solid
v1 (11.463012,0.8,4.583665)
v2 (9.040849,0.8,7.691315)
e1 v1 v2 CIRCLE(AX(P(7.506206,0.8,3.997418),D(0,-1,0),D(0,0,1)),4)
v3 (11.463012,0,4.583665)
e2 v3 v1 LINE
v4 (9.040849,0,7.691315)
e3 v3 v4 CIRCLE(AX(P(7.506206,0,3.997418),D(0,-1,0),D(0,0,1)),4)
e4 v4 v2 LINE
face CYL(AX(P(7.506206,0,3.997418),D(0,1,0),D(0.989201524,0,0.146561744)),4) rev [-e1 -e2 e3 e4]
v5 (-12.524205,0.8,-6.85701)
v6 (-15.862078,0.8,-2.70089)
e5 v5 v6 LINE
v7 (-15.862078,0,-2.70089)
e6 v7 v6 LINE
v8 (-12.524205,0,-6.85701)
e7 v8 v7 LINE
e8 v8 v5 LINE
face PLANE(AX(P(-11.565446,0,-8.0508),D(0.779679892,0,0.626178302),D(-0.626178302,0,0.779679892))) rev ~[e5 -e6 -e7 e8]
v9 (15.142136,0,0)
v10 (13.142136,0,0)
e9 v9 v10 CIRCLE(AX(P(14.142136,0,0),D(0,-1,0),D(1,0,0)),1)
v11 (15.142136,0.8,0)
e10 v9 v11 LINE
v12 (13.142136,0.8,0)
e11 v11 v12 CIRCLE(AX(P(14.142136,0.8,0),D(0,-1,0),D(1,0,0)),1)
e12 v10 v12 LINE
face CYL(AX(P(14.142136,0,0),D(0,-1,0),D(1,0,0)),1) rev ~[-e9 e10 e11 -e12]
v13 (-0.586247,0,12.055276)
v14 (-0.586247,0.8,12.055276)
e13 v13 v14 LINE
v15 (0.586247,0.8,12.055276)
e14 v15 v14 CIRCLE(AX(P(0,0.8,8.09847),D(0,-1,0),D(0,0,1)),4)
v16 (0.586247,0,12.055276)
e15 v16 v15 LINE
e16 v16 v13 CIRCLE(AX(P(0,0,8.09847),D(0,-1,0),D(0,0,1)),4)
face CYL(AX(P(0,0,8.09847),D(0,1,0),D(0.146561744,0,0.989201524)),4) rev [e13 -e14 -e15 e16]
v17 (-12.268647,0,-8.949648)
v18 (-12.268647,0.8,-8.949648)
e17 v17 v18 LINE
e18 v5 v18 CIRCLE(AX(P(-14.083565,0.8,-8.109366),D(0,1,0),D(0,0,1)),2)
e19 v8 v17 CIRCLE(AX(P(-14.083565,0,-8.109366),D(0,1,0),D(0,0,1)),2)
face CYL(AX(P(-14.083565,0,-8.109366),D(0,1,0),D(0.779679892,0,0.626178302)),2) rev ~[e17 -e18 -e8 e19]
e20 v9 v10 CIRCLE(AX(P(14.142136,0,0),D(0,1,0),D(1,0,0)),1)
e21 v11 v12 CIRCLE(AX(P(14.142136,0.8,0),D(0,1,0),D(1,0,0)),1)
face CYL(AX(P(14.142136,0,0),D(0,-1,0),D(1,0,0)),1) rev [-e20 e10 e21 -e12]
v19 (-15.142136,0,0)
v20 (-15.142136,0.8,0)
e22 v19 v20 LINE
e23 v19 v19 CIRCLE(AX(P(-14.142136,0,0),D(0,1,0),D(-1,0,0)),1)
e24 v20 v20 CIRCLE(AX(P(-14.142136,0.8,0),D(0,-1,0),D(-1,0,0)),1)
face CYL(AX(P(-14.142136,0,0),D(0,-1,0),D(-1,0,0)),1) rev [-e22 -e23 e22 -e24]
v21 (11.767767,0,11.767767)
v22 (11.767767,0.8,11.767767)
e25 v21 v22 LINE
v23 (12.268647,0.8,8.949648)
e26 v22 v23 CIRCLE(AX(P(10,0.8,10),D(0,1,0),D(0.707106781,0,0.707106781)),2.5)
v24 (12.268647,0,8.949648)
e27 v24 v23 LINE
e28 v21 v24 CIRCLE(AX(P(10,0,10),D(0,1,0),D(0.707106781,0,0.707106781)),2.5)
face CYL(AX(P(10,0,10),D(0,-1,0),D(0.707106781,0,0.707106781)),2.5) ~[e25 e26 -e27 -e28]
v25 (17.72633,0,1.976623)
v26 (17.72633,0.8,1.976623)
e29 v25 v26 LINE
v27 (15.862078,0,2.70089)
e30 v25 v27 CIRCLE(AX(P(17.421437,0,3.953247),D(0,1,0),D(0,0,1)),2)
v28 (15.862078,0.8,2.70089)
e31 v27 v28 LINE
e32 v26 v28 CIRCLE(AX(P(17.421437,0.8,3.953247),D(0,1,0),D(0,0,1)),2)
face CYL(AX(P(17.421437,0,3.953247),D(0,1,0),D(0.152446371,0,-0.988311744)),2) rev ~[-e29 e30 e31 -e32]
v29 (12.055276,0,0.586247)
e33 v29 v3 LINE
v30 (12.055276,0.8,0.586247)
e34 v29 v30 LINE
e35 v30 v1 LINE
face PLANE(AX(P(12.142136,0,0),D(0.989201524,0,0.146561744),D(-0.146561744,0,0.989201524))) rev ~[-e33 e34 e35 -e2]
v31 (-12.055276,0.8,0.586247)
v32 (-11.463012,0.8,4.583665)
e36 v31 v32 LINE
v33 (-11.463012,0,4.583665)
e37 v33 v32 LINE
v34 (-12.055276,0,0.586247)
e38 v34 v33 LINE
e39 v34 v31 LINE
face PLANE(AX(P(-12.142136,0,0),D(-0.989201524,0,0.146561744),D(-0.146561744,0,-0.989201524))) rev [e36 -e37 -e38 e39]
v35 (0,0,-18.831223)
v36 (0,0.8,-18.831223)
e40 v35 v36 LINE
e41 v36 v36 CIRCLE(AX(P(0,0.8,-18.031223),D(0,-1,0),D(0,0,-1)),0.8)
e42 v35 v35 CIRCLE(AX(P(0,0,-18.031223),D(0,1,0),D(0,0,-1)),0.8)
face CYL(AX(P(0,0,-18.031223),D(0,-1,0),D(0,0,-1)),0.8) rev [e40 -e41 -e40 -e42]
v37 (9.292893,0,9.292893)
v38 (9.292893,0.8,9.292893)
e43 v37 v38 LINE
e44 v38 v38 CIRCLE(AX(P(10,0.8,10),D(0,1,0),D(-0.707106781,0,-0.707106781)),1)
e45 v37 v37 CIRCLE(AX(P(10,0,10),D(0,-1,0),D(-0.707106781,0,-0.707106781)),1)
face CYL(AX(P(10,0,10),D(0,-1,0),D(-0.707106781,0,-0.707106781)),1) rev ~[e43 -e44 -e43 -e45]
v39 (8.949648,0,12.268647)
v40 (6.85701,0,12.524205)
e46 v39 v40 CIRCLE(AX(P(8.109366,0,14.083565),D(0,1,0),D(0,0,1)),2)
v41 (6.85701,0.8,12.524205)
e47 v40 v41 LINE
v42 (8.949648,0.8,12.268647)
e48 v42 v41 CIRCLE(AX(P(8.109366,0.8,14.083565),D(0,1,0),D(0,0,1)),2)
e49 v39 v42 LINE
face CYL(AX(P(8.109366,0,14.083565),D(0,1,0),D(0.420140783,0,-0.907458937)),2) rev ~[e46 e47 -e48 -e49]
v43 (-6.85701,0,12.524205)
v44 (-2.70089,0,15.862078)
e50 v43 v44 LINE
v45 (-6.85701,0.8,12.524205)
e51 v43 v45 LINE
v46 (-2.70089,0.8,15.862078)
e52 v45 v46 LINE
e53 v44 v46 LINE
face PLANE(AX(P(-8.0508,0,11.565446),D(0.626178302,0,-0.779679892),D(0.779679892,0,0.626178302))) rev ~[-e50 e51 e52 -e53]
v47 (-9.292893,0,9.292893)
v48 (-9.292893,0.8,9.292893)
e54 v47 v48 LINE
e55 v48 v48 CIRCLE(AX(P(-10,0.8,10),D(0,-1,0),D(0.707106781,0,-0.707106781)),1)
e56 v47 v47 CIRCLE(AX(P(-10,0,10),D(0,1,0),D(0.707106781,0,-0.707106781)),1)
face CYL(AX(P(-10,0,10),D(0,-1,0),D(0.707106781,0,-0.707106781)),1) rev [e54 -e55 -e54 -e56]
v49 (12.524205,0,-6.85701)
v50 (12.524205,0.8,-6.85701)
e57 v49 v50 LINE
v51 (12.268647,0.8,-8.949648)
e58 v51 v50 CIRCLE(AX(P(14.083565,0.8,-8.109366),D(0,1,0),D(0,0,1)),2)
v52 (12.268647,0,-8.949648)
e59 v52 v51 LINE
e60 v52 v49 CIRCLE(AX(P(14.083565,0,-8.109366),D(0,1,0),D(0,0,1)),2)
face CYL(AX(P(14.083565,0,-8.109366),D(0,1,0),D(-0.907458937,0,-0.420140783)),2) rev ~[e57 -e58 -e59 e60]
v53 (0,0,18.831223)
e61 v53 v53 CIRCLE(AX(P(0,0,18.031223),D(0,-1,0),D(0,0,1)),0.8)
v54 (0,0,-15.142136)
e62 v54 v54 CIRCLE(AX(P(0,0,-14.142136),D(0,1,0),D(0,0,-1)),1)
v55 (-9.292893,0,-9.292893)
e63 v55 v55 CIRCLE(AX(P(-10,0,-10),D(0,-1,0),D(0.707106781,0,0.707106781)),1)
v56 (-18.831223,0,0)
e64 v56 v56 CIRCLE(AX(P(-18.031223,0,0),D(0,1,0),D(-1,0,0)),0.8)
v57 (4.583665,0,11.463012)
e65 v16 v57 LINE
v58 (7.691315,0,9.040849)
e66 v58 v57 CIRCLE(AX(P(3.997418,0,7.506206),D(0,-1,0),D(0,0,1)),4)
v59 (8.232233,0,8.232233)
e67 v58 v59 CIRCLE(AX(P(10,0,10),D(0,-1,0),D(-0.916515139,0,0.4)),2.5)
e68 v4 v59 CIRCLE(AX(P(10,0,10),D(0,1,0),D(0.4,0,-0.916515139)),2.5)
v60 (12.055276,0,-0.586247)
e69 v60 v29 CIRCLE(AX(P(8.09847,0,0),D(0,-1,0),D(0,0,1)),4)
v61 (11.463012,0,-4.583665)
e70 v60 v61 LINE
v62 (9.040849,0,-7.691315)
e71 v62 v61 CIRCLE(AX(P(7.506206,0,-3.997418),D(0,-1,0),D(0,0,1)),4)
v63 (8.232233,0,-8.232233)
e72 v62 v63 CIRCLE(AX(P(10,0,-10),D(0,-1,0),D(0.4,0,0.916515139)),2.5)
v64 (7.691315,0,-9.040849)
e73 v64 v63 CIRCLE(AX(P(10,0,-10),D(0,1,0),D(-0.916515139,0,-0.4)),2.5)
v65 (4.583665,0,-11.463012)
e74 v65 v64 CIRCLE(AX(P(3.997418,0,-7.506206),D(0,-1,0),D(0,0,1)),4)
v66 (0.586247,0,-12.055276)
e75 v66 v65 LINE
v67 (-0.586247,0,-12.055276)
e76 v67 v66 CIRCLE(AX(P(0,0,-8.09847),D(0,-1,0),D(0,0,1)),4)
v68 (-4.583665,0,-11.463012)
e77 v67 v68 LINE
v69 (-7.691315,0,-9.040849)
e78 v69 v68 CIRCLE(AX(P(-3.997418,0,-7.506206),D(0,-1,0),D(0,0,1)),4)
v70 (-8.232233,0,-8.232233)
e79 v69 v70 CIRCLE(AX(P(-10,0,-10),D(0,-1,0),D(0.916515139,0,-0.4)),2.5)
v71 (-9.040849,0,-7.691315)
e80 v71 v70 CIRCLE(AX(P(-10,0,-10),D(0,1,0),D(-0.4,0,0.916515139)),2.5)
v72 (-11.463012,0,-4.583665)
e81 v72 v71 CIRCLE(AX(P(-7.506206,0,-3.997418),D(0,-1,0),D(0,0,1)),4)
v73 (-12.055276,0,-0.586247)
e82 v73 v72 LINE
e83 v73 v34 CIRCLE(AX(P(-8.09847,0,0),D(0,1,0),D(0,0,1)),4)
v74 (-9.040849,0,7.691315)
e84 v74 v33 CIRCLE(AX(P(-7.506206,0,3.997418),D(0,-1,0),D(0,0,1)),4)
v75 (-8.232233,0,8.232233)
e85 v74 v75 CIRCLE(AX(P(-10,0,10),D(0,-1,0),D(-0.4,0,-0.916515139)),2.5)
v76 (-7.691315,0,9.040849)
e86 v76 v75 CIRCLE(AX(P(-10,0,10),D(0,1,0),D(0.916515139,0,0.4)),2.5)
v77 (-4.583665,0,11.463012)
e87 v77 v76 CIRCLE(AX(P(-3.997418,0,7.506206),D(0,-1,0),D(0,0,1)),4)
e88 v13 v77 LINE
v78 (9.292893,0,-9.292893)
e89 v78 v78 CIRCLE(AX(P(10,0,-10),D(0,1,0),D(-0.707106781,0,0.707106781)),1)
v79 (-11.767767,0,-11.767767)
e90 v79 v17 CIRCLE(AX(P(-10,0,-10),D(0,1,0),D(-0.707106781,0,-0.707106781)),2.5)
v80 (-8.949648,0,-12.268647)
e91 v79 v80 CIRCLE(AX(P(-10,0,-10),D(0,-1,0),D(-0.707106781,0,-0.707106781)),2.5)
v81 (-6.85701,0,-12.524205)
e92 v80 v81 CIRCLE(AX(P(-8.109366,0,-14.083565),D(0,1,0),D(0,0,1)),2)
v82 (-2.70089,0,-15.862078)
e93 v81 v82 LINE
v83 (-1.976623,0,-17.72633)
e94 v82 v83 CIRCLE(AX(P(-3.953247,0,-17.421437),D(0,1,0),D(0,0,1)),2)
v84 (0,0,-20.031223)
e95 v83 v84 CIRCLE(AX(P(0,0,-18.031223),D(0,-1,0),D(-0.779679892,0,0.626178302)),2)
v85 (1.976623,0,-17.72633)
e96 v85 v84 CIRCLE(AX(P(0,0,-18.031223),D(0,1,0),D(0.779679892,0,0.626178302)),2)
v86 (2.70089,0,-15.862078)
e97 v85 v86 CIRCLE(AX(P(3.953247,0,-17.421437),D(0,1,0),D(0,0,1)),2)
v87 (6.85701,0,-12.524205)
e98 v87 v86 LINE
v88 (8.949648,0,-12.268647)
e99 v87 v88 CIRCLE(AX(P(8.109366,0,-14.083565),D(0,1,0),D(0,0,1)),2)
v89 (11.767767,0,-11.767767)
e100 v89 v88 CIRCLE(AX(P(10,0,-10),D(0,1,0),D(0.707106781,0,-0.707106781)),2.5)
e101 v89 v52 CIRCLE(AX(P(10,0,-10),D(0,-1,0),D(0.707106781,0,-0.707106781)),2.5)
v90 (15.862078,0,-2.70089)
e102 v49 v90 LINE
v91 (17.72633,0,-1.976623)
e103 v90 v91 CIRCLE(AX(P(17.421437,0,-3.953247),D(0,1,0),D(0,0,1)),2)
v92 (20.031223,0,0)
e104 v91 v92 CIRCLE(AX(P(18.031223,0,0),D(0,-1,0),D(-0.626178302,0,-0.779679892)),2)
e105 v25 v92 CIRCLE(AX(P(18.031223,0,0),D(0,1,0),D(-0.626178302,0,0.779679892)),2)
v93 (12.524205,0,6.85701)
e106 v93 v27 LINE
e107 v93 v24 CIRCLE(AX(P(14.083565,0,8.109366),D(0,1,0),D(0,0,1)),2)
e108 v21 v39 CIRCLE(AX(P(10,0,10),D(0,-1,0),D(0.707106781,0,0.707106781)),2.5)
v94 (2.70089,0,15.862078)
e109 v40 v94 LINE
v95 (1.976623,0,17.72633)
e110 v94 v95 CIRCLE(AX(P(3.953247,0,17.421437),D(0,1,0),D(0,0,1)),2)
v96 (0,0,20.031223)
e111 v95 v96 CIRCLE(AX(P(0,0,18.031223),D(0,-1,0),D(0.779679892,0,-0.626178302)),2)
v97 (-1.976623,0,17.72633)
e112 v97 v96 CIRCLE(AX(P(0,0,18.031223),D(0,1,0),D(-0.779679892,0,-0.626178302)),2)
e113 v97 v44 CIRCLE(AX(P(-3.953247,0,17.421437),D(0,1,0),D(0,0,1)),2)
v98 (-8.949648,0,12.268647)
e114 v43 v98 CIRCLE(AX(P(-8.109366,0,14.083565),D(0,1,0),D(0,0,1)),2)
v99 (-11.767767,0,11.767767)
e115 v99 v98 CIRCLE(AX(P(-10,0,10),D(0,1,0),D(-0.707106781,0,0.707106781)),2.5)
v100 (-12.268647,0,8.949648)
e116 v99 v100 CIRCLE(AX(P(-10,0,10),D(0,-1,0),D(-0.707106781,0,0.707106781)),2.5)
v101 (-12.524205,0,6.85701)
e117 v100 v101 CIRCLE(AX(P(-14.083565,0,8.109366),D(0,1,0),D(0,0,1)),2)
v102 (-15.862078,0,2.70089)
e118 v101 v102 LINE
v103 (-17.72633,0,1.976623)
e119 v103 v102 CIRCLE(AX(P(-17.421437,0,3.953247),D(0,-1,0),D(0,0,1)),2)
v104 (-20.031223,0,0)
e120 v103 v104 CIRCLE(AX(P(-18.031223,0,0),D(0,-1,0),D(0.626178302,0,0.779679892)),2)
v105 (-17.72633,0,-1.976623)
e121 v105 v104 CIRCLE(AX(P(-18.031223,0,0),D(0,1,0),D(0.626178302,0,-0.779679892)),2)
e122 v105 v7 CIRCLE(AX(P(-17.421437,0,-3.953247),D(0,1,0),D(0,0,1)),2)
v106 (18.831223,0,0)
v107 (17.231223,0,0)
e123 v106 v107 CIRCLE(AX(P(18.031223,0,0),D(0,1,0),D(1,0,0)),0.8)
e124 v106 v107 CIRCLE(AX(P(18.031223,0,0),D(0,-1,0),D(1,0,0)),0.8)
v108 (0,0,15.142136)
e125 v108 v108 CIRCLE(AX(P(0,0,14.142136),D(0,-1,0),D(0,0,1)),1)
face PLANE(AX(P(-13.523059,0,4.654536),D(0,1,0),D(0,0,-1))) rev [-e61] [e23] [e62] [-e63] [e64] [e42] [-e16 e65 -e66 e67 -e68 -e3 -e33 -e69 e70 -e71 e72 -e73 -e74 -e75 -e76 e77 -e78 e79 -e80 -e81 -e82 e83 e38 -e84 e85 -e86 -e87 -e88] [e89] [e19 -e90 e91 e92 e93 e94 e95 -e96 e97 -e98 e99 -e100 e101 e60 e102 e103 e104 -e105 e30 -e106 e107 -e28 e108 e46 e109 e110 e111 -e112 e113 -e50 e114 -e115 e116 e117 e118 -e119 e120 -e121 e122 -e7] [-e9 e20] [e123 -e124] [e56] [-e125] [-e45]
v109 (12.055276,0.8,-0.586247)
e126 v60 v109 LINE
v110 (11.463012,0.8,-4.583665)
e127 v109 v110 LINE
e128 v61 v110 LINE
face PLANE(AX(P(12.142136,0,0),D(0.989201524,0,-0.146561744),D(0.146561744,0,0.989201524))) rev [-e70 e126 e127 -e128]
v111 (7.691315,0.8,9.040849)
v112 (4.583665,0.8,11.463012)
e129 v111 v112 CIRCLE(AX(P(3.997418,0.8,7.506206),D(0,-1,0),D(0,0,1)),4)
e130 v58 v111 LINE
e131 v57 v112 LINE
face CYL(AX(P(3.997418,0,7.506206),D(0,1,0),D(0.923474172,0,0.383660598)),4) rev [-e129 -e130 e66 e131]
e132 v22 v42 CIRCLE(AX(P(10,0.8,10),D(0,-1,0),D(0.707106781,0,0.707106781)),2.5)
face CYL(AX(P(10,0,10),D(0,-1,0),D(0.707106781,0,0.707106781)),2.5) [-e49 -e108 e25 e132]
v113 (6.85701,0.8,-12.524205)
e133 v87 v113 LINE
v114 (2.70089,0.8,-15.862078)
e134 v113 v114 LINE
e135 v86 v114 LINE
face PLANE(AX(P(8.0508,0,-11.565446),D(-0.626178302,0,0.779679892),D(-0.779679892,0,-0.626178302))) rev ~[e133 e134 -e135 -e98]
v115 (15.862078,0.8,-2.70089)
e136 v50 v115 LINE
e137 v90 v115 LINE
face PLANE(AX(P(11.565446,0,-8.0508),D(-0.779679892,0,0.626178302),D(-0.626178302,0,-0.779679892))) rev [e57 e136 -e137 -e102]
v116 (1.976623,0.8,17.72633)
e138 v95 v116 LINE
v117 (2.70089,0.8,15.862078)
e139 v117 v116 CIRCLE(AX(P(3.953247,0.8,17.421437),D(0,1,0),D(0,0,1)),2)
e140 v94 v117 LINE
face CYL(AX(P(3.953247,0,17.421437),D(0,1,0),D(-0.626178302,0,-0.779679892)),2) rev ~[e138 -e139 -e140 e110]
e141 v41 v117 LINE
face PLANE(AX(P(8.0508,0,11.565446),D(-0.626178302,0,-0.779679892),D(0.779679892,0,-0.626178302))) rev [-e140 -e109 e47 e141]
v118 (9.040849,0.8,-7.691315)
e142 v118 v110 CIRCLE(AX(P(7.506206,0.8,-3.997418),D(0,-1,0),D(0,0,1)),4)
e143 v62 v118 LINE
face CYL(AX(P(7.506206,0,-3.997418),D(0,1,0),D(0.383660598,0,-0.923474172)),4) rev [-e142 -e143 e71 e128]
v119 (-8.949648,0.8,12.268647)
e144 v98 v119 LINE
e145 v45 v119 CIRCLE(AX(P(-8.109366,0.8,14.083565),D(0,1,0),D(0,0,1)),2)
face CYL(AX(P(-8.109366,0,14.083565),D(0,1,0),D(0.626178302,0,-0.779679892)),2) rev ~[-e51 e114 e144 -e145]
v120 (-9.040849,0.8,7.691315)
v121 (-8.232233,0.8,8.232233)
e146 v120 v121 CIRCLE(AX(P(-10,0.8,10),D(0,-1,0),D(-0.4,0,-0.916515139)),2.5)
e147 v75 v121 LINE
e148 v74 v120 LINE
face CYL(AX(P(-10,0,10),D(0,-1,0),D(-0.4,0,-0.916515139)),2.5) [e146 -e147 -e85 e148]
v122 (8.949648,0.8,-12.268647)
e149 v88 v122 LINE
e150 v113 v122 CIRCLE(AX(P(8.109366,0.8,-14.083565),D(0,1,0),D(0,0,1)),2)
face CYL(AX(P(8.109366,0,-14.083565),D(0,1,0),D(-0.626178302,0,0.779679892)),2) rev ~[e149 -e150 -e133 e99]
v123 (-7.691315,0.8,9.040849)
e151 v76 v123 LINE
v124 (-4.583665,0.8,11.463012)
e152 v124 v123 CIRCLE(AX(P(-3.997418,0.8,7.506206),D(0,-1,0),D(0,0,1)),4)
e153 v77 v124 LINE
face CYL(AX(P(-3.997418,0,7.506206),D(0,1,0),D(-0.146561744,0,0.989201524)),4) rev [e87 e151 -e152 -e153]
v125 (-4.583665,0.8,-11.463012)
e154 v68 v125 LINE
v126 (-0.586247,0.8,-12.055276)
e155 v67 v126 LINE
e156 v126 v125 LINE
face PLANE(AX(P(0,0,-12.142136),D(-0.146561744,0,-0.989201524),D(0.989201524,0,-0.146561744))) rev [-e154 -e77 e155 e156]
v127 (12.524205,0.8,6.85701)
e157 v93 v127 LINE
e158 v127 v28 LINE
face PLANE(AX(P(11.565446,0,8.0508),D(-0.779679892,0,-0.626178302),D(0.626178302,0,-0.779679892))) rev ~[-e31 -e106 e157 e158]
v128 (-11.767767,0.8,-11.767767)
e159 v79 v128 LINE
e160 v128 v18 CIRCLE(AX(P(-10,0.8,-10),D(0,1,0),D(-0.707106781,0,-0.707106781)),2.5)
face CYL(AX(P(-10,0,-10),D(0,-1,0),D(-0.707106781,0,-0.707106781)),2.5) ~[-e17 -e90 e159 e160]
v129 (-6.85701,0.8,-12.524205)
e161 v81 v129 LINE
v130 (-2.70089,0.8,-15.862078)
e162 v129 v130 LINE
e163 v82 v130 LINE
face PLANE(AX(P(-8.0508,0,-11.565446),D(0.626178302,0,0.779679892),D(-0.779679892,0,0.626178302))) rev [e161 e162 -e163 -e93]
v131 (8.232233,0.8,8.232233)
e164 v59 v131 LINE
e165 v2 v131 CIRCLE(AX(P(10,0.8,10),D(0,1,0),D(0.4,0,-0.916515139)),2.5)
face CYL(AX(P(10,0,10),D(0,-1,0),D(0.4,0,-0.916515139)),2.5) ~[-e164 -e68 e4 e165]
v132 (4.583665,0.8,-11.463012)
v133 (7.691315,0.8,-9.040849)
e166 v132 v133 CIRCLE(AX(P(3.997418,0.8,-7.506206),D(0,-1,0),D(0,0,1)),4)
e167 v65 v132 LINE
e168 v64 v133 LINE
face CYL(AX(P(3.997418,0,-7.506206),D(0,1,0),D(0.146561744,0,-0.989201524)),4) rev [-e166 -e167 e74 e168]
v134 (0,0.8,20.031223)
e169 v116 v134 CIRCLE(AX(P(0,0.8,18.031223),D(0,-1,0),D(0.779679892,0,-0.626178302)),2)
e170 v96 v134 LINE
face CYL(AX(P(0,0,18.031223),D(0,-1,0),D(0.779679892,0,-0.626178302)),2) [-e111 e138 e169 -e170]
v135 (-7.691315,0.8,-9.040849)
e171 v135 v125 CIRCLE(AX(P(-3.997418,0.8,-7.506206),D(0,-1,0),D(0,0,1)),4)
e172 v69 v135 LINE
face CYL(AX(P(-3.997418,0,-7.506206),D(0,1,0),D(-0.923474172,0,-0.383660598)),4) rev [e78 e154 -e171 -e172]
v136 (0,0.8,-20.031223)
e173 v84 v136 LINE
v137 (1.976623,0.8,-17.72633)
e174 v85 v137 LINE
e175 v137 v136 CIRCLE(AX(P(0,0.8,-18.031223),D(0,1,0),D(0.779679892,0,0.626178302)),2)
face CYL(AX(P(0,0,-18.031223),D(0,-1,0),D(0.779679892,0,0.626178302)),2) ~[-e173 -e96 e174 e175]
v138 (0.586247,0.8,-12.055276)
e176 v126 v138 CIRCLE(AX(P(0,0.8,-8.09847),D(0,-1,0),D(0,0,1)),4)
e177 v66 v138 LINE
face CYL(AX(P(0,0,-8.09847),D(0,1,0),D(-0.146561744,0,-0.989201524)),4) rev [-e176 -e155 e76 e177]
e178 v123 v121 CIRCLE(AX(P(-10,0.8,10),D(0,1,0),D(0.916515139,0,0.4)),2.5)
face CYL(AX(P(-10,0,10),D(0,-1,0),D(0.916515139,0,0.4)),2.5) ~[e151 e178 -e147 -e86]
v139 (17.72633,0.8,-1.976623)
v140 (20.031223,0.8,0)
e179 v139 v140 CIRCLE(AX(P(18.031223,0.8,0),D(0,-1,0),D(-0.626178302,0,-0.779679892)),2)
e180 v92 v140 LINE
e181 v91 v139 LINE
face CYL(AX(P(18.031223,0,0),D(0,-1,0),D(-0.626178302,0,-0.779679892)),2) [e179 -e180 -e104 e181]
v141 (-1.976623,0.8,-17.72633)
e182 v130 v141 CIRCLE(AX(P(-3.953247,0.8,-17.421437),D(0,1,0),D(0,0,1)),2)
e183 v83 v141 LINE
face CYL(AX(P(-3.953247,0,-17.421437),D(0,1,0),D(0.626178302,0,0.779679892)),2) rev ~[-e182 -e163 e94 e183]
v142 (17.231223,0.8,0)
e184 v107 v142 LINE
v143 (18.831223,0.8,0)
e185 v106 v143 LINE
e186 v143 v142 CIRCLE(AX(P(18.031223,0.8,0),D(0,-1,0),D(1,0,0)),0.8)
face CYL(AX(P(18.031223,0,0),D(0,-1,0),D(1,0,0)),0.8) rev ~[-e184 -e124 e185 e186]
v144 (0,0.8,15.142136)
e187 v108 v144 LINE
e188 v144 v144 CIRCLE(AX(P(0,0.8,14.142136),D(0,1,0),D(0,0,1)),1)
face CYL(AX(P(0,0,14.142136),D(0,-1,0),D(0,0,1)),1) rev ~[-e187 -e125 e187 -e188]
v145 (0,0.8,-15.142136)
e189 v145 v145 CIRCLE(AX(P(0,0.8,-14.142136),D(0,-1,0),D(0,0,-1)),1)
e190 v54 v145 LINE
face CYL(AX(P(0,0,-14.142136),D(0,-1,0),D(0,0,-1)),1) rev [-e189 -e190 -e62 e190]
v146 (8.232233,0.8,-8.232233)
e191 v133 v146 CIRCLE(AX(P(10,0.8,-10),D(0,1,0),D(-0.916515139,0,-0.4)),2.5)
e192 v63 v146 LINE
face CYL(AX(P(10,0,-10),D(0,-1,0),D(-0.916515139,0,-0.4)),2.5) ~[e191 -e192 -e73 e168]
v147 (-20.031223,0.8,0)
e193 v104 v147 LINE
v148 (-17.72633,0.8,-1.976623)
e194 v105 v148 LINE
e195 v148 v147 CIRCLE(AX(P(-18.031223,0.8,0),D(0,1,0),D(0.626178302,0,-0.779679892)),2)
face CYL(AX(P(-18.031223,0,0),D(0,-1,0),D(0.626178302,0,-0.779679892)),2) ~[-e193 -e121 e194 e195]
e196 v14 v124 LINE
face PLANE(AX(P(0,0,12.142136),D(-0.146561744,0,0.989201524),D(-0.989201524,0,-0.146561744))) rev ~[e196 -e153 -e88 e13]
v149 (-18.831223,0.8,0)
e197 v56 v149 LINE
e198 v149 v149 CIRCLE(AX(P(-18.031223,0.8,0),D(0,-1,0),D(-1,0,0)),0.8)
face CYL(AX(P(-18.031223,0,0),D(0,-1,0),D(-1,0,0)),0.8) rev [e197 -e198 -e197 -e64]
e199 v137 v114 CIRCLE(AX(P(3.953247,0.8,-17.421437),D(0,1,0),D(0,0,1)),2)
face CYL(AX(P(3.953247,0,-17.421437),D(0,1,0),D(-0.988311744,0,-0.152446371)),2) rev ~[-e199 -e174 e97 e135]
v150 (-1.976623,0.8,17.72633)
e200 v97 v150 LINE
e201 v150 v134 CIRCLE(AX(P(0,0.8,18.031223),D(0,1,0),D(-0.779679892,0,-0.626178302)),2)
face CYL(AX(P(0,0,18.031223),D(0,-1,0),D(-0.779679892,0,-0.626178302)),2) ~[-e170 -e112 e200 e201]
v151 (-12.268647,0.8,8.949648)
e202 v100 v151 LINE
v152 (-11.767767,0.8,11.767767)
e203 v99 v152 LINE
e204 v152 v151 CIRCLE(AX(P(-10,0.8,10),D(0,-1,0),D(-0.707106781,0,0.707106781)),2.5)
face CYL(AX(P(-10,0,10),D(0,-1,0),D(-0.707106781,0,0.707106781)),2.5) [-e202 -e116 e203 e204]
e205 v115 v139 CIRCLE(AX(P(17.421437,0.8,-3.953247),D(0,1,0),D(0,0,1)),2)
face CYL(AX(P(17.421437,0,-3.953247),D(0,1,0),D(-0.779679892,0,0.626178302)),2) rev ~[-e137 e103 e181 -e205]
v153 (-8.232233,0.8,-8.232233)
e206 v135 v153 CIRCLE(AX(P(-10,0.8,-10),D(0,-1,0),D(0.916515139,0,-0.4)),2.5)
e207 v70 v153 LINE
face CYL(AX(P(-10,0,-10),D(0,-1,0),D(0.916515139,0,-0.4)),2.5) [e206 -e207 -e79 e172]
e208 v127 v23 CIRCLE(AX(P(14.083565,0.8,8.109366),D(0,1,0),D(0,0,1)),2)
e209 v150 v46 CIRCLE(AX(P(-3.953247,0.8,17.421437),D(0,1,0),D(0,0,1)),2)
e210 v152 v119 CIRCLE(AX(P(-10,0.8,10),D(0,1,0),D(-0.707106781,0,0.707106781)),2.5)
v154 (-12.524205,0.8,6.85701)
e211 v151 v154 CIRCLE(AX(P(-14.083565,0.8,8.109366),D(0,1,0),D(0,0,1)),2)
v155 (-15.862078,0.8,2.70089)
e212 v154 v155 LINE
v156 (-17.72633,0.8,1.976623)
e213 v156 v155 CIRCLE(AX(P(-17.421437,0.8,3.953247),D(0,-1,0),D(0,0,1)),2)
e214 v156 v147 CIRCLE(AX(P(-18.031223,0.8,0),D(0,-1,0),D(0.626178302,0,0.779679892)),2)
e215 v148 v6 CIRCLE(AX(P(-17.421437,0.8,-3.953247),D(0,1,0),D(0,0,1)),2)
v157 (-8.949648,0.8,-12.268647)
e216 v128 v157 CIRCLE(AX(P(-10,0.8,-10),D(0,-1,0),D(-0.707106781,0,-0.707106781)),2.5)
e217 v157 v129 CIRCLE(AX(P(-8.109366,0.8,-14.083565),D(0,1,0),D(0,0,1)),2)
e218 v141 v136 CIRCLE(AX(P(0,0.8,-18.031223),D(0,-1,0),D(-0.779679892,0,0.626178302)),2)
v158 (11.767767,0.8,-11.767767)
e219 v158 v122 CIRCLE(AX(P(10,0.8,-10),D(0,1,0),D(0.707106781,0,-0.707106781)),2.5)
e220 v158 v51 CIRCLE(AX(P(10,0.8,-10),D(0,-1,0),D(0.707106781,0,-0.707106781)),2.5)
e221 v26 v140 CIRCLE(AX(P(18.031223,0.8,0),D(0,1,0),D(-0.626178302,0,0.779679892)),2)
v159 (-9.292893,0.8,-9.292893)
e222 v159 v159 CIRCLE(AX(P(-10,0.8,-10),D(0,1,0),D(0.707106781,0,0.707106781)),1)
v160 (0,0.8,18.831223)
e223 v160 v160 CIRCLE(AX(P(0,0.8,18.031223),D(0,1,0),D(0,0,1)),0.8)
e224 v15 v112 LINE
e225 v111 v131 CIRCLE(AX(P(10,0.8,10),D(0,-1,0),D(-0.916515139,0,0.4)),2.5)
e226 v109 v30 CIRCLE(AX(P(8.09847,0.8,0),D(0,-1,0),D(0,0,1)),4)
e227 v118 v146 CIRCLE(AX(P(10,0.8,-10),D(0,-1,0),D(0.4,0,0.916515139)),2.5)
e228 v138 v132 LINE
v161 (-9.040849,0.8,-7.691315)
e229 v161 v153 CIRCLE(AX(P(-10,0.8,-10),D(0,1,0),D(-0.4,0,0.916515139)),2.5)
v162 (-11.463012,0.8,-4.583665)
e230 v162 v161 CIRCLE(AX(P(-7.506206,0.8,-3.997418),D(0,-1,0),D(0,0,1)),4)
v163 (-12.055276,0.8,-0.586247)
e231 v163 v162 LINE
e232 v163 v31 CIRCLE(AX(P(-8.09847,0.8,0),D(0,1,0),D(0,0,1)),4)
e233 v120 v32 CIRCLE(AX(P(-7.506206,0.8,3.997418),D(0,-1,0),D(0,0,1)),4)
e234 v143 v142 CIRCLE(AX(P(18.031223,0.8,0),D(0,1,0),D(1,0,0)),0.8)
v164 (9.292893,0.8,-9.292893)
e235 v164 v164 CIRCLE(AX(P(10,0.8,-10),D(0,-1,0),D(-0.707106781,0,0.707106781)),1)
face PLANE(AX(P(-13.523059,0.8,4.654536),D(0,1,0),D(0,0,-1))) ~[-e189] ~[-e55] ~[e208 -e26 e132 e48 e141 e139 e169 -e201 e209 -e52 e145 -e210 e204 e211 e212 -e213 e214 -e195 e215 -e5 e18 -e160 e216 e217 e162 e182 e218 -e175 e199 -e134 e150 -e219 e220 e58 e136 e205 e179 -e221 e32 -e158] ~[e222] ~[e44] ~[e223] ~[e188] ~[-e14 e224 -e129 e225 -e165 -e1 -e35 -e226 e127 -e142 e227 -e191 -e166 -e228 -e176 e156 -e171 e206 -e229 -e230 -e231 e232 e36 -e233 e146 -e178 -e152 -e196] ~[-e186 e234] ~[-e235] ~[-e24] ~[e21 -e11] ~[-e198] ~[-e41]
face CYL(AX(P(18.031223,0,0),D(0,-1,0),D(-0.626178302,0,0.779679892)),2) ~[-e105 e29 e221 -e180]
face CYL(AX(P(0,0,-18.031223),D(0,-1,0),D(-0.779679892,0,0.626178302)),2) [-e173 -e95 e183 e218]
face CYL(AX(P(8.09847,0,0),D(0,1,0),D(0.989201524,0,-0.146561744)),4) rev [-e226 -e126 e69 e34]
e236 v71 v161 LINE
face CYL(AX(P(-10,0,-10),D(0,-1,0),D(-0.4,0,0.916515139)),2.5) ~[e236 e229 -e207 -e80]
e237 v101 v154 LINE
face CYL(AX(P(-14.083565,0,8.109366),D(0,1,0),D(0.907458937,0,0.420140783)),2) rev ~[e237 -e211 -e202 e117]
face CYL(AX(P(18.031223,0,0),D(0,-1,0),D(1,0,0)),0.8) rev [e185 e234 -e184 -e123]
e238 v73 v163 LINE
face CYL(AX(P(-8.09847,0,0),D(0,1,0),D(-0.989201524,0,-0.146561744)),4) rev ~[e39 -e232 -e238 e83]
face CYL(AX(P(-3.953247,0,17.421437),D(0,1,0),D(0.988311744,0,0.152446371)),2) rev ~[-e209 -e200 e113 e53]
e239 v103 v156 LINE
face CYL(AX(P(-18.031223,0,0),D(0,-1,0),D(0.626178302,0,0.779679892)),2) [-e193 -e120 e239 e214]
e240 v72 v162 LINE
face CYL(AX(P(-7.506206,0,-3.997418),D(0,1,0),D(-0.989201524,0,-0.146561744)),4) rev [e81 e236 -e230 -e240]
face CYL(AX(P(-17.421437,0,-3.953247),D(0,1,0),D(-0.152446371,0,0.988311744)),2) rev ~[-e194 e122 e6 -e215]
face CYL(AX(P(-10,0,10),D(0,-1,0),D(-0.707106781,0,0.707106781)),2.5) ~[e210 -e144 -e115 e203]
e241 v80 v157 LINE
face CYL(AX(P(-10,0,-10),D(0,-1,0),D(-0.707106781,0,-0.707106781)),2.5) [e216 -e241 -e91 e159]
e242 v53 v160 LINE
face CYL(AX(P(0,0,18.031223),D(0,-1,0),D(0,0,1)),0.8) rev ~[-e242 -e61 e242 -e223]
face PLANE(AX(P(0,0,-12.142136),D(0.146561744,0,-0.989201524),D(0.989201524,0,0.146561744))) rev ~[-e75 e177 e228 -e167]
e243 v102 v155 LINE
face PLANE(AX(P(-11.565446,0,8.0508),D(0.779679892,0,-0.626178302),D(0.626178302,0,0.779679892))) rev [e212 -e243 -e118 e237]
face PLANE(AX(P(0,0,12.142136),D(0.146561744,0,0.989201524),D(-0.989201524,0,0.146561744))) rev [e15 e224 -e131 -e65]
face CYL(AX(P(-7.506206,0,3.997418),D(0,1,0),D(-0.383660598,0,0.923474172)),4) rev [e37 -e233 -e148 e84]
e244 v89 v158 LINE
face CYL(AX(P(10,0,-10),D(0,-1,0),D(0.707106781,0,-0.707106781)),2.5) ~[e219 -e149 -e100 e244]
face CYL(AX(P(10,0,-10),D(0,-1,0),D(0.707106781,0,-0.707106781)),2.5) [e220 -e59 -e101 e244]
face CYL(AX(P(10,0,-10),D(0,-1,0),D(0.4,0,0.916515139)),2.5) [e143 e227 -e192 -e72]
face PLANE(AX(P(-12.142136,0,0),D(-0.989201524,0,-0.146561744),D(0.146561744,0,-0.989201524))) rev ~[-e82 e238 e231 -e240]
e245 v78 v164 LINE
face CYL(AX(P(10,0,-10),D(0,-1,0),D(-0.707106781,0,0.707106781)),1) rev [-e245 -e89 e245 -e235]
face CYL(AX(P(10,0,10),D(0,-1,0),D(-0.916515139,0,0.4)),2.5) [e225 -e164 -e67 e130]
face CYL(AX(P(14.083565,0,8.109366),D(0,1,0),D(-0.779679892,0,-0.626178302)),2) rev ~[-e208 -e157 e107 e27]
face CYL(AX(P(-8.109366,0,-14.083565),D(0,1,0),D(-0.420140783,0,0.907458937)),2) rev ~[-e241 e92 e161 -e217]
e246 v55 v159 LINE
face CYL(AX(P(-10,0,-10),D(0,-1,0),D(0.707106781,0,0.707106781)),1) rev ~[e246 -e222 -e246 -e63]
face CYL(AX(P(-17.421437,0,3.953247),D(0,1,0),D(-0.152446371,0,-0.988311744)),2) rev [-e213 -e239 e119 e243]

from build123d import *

# Parameters (mm, degrees)
EXTRUDE_1_DEPTH = 0.8
FILLET_1_R      = 4
FILLET_2_R      = 2


with BuildPart() as part:
    # 草图1 → 凸台-拉伸1 (new body)
    with BuildSketch(Plane(origin=(0, 0, 0), x_dir=(1, 0, 0), z_dir=(0, 1, 0))):
        with BuildLine():
            ThreePointArc((1.559359784, 16.778866316), (1.803429124, 18.895886668), (0, 20.03122292))
            Line((0, 20.03122292), (0, 18.83122292))
            ThreePointArc((0, 18.83122292), (0.8, 18.03122292), (0, 17.23122292))
            Line((0, 17.23122292), (0, 15.142135624))
            ThreePointArc((0, 15.142135624), (1, 14.142135624), (0, 13.142135624))
            Line((0, 13.142135624), (0, 12.142135624))
            Line((0, 12.142135624), (7.708712153, 11))
            ThreePointArc((7.708712153, 11), (7.543556444, 9.535365676), (8.232233047, 8.232233047))
            Line((8.232233047, 8.232233047), (9.292893219, 9.292893219))
            ThreePointArc((9.292893219, 9.292893219), (9.292893219, 10.707106781), (10.707106781, 10.707106781))
            Line((10.707106781, 10.707106781), (11.767766953, 11.767766953))
            ThreePointArc((11.767766953, 11.767766953), (9.864121635, 12.496304683), (8.05080027, 11.565445755))
            Line((8.05080027, 11.565445755), (1.559359784, 16.778866316))
        make_face()
    extrude_1 = extrude(amount=EXTRUDE_1_DEPTH)

    # 镜向1: 凸台-拉伸1 across plane
    add(extrude_1.mirror(Plane(origin=(0, 0.8, 0), x_dir=(-0.707106781, 0, 0.707106781), z_dir=(-0.707106781, 0, -0.707106781))))

    # 镜向2: part across plane


with BuildPart() as part_1:
    add(part.part)
    add(part.part.mirror(Plane(origin=(0, 0.8, 0), x_dir=(0, 0, 1), z_dir=(1, 0, 0))))

    # 镜向3: part across plane


with BuildPart() as part_2:
    add(part_1.part)
    add(part_1.part.mirror(Plane(origin=(0, 0.8, 0), x_dir=(1, 0, 0), z_dir=(0, 0, 1))))

    # 圆角1
    fillet_1_edges = [part_2.edges().sort_by_distance(p)[0] for p in [
        (7.708712153, 0.4, 11),
        (11, 0.4, 7.708712153),
        (12.142135624, 0.4, 0),
        (0, 0.4, 12.142135624),
        (-7.708712153, 0.4, 11),
        (-11, 0.4, 7.708712153),
        (-12.142135624, 0.4, 0),
        (7.708712153, 0.4, -11),
        (11, 0.4, -7.708712153),
        (0, 0.4, -12.142135624),
        (-7.708712153, 0.4, -11),
        (-11, 0.4, -7.708712153),
    ]]
    fillet(fillet_1_edges, radius=FILLET_1_R)

    # 圆角2
    fillet_2_edges = [part_2.edges().sort_by_distance(p)[0] for p in [
        (8.05080027, 0.4, 11.565445755),
        (1.559359784, 0.4, 16.778866316),
        (-1.559359784, 0.4, 16.778866316),
        (16.778866316, 0.4, 1.559359784),
        (11.565445755, 0.4, 8.05080027),
        (-11.565445755, 0.4, 8.05080027),
        (-8.05080027, 0.4, 11.565445755),
        (-16.778866316, 0.4, 1.559359784),
        (1.559359784, 0.4, -16.778866316),
        (8.05080027, 0.4, -11.565445755),
        (16.778866316, 0.4, -1.559359784),
        (11.565445755, 0.4, -8.05080027),
        (-8.05080027, 0.4, -11.565445755),
        (-1.559359784, 0.4, -16.778866316),
        (-16.778866316, 0.4, -1.559359784),
        (-11.565445755, 0.4, -8.05080027),
    ]]
    fillet(fillet_2_edges, radius=FILLET_2_R)


solid = part_2.part
